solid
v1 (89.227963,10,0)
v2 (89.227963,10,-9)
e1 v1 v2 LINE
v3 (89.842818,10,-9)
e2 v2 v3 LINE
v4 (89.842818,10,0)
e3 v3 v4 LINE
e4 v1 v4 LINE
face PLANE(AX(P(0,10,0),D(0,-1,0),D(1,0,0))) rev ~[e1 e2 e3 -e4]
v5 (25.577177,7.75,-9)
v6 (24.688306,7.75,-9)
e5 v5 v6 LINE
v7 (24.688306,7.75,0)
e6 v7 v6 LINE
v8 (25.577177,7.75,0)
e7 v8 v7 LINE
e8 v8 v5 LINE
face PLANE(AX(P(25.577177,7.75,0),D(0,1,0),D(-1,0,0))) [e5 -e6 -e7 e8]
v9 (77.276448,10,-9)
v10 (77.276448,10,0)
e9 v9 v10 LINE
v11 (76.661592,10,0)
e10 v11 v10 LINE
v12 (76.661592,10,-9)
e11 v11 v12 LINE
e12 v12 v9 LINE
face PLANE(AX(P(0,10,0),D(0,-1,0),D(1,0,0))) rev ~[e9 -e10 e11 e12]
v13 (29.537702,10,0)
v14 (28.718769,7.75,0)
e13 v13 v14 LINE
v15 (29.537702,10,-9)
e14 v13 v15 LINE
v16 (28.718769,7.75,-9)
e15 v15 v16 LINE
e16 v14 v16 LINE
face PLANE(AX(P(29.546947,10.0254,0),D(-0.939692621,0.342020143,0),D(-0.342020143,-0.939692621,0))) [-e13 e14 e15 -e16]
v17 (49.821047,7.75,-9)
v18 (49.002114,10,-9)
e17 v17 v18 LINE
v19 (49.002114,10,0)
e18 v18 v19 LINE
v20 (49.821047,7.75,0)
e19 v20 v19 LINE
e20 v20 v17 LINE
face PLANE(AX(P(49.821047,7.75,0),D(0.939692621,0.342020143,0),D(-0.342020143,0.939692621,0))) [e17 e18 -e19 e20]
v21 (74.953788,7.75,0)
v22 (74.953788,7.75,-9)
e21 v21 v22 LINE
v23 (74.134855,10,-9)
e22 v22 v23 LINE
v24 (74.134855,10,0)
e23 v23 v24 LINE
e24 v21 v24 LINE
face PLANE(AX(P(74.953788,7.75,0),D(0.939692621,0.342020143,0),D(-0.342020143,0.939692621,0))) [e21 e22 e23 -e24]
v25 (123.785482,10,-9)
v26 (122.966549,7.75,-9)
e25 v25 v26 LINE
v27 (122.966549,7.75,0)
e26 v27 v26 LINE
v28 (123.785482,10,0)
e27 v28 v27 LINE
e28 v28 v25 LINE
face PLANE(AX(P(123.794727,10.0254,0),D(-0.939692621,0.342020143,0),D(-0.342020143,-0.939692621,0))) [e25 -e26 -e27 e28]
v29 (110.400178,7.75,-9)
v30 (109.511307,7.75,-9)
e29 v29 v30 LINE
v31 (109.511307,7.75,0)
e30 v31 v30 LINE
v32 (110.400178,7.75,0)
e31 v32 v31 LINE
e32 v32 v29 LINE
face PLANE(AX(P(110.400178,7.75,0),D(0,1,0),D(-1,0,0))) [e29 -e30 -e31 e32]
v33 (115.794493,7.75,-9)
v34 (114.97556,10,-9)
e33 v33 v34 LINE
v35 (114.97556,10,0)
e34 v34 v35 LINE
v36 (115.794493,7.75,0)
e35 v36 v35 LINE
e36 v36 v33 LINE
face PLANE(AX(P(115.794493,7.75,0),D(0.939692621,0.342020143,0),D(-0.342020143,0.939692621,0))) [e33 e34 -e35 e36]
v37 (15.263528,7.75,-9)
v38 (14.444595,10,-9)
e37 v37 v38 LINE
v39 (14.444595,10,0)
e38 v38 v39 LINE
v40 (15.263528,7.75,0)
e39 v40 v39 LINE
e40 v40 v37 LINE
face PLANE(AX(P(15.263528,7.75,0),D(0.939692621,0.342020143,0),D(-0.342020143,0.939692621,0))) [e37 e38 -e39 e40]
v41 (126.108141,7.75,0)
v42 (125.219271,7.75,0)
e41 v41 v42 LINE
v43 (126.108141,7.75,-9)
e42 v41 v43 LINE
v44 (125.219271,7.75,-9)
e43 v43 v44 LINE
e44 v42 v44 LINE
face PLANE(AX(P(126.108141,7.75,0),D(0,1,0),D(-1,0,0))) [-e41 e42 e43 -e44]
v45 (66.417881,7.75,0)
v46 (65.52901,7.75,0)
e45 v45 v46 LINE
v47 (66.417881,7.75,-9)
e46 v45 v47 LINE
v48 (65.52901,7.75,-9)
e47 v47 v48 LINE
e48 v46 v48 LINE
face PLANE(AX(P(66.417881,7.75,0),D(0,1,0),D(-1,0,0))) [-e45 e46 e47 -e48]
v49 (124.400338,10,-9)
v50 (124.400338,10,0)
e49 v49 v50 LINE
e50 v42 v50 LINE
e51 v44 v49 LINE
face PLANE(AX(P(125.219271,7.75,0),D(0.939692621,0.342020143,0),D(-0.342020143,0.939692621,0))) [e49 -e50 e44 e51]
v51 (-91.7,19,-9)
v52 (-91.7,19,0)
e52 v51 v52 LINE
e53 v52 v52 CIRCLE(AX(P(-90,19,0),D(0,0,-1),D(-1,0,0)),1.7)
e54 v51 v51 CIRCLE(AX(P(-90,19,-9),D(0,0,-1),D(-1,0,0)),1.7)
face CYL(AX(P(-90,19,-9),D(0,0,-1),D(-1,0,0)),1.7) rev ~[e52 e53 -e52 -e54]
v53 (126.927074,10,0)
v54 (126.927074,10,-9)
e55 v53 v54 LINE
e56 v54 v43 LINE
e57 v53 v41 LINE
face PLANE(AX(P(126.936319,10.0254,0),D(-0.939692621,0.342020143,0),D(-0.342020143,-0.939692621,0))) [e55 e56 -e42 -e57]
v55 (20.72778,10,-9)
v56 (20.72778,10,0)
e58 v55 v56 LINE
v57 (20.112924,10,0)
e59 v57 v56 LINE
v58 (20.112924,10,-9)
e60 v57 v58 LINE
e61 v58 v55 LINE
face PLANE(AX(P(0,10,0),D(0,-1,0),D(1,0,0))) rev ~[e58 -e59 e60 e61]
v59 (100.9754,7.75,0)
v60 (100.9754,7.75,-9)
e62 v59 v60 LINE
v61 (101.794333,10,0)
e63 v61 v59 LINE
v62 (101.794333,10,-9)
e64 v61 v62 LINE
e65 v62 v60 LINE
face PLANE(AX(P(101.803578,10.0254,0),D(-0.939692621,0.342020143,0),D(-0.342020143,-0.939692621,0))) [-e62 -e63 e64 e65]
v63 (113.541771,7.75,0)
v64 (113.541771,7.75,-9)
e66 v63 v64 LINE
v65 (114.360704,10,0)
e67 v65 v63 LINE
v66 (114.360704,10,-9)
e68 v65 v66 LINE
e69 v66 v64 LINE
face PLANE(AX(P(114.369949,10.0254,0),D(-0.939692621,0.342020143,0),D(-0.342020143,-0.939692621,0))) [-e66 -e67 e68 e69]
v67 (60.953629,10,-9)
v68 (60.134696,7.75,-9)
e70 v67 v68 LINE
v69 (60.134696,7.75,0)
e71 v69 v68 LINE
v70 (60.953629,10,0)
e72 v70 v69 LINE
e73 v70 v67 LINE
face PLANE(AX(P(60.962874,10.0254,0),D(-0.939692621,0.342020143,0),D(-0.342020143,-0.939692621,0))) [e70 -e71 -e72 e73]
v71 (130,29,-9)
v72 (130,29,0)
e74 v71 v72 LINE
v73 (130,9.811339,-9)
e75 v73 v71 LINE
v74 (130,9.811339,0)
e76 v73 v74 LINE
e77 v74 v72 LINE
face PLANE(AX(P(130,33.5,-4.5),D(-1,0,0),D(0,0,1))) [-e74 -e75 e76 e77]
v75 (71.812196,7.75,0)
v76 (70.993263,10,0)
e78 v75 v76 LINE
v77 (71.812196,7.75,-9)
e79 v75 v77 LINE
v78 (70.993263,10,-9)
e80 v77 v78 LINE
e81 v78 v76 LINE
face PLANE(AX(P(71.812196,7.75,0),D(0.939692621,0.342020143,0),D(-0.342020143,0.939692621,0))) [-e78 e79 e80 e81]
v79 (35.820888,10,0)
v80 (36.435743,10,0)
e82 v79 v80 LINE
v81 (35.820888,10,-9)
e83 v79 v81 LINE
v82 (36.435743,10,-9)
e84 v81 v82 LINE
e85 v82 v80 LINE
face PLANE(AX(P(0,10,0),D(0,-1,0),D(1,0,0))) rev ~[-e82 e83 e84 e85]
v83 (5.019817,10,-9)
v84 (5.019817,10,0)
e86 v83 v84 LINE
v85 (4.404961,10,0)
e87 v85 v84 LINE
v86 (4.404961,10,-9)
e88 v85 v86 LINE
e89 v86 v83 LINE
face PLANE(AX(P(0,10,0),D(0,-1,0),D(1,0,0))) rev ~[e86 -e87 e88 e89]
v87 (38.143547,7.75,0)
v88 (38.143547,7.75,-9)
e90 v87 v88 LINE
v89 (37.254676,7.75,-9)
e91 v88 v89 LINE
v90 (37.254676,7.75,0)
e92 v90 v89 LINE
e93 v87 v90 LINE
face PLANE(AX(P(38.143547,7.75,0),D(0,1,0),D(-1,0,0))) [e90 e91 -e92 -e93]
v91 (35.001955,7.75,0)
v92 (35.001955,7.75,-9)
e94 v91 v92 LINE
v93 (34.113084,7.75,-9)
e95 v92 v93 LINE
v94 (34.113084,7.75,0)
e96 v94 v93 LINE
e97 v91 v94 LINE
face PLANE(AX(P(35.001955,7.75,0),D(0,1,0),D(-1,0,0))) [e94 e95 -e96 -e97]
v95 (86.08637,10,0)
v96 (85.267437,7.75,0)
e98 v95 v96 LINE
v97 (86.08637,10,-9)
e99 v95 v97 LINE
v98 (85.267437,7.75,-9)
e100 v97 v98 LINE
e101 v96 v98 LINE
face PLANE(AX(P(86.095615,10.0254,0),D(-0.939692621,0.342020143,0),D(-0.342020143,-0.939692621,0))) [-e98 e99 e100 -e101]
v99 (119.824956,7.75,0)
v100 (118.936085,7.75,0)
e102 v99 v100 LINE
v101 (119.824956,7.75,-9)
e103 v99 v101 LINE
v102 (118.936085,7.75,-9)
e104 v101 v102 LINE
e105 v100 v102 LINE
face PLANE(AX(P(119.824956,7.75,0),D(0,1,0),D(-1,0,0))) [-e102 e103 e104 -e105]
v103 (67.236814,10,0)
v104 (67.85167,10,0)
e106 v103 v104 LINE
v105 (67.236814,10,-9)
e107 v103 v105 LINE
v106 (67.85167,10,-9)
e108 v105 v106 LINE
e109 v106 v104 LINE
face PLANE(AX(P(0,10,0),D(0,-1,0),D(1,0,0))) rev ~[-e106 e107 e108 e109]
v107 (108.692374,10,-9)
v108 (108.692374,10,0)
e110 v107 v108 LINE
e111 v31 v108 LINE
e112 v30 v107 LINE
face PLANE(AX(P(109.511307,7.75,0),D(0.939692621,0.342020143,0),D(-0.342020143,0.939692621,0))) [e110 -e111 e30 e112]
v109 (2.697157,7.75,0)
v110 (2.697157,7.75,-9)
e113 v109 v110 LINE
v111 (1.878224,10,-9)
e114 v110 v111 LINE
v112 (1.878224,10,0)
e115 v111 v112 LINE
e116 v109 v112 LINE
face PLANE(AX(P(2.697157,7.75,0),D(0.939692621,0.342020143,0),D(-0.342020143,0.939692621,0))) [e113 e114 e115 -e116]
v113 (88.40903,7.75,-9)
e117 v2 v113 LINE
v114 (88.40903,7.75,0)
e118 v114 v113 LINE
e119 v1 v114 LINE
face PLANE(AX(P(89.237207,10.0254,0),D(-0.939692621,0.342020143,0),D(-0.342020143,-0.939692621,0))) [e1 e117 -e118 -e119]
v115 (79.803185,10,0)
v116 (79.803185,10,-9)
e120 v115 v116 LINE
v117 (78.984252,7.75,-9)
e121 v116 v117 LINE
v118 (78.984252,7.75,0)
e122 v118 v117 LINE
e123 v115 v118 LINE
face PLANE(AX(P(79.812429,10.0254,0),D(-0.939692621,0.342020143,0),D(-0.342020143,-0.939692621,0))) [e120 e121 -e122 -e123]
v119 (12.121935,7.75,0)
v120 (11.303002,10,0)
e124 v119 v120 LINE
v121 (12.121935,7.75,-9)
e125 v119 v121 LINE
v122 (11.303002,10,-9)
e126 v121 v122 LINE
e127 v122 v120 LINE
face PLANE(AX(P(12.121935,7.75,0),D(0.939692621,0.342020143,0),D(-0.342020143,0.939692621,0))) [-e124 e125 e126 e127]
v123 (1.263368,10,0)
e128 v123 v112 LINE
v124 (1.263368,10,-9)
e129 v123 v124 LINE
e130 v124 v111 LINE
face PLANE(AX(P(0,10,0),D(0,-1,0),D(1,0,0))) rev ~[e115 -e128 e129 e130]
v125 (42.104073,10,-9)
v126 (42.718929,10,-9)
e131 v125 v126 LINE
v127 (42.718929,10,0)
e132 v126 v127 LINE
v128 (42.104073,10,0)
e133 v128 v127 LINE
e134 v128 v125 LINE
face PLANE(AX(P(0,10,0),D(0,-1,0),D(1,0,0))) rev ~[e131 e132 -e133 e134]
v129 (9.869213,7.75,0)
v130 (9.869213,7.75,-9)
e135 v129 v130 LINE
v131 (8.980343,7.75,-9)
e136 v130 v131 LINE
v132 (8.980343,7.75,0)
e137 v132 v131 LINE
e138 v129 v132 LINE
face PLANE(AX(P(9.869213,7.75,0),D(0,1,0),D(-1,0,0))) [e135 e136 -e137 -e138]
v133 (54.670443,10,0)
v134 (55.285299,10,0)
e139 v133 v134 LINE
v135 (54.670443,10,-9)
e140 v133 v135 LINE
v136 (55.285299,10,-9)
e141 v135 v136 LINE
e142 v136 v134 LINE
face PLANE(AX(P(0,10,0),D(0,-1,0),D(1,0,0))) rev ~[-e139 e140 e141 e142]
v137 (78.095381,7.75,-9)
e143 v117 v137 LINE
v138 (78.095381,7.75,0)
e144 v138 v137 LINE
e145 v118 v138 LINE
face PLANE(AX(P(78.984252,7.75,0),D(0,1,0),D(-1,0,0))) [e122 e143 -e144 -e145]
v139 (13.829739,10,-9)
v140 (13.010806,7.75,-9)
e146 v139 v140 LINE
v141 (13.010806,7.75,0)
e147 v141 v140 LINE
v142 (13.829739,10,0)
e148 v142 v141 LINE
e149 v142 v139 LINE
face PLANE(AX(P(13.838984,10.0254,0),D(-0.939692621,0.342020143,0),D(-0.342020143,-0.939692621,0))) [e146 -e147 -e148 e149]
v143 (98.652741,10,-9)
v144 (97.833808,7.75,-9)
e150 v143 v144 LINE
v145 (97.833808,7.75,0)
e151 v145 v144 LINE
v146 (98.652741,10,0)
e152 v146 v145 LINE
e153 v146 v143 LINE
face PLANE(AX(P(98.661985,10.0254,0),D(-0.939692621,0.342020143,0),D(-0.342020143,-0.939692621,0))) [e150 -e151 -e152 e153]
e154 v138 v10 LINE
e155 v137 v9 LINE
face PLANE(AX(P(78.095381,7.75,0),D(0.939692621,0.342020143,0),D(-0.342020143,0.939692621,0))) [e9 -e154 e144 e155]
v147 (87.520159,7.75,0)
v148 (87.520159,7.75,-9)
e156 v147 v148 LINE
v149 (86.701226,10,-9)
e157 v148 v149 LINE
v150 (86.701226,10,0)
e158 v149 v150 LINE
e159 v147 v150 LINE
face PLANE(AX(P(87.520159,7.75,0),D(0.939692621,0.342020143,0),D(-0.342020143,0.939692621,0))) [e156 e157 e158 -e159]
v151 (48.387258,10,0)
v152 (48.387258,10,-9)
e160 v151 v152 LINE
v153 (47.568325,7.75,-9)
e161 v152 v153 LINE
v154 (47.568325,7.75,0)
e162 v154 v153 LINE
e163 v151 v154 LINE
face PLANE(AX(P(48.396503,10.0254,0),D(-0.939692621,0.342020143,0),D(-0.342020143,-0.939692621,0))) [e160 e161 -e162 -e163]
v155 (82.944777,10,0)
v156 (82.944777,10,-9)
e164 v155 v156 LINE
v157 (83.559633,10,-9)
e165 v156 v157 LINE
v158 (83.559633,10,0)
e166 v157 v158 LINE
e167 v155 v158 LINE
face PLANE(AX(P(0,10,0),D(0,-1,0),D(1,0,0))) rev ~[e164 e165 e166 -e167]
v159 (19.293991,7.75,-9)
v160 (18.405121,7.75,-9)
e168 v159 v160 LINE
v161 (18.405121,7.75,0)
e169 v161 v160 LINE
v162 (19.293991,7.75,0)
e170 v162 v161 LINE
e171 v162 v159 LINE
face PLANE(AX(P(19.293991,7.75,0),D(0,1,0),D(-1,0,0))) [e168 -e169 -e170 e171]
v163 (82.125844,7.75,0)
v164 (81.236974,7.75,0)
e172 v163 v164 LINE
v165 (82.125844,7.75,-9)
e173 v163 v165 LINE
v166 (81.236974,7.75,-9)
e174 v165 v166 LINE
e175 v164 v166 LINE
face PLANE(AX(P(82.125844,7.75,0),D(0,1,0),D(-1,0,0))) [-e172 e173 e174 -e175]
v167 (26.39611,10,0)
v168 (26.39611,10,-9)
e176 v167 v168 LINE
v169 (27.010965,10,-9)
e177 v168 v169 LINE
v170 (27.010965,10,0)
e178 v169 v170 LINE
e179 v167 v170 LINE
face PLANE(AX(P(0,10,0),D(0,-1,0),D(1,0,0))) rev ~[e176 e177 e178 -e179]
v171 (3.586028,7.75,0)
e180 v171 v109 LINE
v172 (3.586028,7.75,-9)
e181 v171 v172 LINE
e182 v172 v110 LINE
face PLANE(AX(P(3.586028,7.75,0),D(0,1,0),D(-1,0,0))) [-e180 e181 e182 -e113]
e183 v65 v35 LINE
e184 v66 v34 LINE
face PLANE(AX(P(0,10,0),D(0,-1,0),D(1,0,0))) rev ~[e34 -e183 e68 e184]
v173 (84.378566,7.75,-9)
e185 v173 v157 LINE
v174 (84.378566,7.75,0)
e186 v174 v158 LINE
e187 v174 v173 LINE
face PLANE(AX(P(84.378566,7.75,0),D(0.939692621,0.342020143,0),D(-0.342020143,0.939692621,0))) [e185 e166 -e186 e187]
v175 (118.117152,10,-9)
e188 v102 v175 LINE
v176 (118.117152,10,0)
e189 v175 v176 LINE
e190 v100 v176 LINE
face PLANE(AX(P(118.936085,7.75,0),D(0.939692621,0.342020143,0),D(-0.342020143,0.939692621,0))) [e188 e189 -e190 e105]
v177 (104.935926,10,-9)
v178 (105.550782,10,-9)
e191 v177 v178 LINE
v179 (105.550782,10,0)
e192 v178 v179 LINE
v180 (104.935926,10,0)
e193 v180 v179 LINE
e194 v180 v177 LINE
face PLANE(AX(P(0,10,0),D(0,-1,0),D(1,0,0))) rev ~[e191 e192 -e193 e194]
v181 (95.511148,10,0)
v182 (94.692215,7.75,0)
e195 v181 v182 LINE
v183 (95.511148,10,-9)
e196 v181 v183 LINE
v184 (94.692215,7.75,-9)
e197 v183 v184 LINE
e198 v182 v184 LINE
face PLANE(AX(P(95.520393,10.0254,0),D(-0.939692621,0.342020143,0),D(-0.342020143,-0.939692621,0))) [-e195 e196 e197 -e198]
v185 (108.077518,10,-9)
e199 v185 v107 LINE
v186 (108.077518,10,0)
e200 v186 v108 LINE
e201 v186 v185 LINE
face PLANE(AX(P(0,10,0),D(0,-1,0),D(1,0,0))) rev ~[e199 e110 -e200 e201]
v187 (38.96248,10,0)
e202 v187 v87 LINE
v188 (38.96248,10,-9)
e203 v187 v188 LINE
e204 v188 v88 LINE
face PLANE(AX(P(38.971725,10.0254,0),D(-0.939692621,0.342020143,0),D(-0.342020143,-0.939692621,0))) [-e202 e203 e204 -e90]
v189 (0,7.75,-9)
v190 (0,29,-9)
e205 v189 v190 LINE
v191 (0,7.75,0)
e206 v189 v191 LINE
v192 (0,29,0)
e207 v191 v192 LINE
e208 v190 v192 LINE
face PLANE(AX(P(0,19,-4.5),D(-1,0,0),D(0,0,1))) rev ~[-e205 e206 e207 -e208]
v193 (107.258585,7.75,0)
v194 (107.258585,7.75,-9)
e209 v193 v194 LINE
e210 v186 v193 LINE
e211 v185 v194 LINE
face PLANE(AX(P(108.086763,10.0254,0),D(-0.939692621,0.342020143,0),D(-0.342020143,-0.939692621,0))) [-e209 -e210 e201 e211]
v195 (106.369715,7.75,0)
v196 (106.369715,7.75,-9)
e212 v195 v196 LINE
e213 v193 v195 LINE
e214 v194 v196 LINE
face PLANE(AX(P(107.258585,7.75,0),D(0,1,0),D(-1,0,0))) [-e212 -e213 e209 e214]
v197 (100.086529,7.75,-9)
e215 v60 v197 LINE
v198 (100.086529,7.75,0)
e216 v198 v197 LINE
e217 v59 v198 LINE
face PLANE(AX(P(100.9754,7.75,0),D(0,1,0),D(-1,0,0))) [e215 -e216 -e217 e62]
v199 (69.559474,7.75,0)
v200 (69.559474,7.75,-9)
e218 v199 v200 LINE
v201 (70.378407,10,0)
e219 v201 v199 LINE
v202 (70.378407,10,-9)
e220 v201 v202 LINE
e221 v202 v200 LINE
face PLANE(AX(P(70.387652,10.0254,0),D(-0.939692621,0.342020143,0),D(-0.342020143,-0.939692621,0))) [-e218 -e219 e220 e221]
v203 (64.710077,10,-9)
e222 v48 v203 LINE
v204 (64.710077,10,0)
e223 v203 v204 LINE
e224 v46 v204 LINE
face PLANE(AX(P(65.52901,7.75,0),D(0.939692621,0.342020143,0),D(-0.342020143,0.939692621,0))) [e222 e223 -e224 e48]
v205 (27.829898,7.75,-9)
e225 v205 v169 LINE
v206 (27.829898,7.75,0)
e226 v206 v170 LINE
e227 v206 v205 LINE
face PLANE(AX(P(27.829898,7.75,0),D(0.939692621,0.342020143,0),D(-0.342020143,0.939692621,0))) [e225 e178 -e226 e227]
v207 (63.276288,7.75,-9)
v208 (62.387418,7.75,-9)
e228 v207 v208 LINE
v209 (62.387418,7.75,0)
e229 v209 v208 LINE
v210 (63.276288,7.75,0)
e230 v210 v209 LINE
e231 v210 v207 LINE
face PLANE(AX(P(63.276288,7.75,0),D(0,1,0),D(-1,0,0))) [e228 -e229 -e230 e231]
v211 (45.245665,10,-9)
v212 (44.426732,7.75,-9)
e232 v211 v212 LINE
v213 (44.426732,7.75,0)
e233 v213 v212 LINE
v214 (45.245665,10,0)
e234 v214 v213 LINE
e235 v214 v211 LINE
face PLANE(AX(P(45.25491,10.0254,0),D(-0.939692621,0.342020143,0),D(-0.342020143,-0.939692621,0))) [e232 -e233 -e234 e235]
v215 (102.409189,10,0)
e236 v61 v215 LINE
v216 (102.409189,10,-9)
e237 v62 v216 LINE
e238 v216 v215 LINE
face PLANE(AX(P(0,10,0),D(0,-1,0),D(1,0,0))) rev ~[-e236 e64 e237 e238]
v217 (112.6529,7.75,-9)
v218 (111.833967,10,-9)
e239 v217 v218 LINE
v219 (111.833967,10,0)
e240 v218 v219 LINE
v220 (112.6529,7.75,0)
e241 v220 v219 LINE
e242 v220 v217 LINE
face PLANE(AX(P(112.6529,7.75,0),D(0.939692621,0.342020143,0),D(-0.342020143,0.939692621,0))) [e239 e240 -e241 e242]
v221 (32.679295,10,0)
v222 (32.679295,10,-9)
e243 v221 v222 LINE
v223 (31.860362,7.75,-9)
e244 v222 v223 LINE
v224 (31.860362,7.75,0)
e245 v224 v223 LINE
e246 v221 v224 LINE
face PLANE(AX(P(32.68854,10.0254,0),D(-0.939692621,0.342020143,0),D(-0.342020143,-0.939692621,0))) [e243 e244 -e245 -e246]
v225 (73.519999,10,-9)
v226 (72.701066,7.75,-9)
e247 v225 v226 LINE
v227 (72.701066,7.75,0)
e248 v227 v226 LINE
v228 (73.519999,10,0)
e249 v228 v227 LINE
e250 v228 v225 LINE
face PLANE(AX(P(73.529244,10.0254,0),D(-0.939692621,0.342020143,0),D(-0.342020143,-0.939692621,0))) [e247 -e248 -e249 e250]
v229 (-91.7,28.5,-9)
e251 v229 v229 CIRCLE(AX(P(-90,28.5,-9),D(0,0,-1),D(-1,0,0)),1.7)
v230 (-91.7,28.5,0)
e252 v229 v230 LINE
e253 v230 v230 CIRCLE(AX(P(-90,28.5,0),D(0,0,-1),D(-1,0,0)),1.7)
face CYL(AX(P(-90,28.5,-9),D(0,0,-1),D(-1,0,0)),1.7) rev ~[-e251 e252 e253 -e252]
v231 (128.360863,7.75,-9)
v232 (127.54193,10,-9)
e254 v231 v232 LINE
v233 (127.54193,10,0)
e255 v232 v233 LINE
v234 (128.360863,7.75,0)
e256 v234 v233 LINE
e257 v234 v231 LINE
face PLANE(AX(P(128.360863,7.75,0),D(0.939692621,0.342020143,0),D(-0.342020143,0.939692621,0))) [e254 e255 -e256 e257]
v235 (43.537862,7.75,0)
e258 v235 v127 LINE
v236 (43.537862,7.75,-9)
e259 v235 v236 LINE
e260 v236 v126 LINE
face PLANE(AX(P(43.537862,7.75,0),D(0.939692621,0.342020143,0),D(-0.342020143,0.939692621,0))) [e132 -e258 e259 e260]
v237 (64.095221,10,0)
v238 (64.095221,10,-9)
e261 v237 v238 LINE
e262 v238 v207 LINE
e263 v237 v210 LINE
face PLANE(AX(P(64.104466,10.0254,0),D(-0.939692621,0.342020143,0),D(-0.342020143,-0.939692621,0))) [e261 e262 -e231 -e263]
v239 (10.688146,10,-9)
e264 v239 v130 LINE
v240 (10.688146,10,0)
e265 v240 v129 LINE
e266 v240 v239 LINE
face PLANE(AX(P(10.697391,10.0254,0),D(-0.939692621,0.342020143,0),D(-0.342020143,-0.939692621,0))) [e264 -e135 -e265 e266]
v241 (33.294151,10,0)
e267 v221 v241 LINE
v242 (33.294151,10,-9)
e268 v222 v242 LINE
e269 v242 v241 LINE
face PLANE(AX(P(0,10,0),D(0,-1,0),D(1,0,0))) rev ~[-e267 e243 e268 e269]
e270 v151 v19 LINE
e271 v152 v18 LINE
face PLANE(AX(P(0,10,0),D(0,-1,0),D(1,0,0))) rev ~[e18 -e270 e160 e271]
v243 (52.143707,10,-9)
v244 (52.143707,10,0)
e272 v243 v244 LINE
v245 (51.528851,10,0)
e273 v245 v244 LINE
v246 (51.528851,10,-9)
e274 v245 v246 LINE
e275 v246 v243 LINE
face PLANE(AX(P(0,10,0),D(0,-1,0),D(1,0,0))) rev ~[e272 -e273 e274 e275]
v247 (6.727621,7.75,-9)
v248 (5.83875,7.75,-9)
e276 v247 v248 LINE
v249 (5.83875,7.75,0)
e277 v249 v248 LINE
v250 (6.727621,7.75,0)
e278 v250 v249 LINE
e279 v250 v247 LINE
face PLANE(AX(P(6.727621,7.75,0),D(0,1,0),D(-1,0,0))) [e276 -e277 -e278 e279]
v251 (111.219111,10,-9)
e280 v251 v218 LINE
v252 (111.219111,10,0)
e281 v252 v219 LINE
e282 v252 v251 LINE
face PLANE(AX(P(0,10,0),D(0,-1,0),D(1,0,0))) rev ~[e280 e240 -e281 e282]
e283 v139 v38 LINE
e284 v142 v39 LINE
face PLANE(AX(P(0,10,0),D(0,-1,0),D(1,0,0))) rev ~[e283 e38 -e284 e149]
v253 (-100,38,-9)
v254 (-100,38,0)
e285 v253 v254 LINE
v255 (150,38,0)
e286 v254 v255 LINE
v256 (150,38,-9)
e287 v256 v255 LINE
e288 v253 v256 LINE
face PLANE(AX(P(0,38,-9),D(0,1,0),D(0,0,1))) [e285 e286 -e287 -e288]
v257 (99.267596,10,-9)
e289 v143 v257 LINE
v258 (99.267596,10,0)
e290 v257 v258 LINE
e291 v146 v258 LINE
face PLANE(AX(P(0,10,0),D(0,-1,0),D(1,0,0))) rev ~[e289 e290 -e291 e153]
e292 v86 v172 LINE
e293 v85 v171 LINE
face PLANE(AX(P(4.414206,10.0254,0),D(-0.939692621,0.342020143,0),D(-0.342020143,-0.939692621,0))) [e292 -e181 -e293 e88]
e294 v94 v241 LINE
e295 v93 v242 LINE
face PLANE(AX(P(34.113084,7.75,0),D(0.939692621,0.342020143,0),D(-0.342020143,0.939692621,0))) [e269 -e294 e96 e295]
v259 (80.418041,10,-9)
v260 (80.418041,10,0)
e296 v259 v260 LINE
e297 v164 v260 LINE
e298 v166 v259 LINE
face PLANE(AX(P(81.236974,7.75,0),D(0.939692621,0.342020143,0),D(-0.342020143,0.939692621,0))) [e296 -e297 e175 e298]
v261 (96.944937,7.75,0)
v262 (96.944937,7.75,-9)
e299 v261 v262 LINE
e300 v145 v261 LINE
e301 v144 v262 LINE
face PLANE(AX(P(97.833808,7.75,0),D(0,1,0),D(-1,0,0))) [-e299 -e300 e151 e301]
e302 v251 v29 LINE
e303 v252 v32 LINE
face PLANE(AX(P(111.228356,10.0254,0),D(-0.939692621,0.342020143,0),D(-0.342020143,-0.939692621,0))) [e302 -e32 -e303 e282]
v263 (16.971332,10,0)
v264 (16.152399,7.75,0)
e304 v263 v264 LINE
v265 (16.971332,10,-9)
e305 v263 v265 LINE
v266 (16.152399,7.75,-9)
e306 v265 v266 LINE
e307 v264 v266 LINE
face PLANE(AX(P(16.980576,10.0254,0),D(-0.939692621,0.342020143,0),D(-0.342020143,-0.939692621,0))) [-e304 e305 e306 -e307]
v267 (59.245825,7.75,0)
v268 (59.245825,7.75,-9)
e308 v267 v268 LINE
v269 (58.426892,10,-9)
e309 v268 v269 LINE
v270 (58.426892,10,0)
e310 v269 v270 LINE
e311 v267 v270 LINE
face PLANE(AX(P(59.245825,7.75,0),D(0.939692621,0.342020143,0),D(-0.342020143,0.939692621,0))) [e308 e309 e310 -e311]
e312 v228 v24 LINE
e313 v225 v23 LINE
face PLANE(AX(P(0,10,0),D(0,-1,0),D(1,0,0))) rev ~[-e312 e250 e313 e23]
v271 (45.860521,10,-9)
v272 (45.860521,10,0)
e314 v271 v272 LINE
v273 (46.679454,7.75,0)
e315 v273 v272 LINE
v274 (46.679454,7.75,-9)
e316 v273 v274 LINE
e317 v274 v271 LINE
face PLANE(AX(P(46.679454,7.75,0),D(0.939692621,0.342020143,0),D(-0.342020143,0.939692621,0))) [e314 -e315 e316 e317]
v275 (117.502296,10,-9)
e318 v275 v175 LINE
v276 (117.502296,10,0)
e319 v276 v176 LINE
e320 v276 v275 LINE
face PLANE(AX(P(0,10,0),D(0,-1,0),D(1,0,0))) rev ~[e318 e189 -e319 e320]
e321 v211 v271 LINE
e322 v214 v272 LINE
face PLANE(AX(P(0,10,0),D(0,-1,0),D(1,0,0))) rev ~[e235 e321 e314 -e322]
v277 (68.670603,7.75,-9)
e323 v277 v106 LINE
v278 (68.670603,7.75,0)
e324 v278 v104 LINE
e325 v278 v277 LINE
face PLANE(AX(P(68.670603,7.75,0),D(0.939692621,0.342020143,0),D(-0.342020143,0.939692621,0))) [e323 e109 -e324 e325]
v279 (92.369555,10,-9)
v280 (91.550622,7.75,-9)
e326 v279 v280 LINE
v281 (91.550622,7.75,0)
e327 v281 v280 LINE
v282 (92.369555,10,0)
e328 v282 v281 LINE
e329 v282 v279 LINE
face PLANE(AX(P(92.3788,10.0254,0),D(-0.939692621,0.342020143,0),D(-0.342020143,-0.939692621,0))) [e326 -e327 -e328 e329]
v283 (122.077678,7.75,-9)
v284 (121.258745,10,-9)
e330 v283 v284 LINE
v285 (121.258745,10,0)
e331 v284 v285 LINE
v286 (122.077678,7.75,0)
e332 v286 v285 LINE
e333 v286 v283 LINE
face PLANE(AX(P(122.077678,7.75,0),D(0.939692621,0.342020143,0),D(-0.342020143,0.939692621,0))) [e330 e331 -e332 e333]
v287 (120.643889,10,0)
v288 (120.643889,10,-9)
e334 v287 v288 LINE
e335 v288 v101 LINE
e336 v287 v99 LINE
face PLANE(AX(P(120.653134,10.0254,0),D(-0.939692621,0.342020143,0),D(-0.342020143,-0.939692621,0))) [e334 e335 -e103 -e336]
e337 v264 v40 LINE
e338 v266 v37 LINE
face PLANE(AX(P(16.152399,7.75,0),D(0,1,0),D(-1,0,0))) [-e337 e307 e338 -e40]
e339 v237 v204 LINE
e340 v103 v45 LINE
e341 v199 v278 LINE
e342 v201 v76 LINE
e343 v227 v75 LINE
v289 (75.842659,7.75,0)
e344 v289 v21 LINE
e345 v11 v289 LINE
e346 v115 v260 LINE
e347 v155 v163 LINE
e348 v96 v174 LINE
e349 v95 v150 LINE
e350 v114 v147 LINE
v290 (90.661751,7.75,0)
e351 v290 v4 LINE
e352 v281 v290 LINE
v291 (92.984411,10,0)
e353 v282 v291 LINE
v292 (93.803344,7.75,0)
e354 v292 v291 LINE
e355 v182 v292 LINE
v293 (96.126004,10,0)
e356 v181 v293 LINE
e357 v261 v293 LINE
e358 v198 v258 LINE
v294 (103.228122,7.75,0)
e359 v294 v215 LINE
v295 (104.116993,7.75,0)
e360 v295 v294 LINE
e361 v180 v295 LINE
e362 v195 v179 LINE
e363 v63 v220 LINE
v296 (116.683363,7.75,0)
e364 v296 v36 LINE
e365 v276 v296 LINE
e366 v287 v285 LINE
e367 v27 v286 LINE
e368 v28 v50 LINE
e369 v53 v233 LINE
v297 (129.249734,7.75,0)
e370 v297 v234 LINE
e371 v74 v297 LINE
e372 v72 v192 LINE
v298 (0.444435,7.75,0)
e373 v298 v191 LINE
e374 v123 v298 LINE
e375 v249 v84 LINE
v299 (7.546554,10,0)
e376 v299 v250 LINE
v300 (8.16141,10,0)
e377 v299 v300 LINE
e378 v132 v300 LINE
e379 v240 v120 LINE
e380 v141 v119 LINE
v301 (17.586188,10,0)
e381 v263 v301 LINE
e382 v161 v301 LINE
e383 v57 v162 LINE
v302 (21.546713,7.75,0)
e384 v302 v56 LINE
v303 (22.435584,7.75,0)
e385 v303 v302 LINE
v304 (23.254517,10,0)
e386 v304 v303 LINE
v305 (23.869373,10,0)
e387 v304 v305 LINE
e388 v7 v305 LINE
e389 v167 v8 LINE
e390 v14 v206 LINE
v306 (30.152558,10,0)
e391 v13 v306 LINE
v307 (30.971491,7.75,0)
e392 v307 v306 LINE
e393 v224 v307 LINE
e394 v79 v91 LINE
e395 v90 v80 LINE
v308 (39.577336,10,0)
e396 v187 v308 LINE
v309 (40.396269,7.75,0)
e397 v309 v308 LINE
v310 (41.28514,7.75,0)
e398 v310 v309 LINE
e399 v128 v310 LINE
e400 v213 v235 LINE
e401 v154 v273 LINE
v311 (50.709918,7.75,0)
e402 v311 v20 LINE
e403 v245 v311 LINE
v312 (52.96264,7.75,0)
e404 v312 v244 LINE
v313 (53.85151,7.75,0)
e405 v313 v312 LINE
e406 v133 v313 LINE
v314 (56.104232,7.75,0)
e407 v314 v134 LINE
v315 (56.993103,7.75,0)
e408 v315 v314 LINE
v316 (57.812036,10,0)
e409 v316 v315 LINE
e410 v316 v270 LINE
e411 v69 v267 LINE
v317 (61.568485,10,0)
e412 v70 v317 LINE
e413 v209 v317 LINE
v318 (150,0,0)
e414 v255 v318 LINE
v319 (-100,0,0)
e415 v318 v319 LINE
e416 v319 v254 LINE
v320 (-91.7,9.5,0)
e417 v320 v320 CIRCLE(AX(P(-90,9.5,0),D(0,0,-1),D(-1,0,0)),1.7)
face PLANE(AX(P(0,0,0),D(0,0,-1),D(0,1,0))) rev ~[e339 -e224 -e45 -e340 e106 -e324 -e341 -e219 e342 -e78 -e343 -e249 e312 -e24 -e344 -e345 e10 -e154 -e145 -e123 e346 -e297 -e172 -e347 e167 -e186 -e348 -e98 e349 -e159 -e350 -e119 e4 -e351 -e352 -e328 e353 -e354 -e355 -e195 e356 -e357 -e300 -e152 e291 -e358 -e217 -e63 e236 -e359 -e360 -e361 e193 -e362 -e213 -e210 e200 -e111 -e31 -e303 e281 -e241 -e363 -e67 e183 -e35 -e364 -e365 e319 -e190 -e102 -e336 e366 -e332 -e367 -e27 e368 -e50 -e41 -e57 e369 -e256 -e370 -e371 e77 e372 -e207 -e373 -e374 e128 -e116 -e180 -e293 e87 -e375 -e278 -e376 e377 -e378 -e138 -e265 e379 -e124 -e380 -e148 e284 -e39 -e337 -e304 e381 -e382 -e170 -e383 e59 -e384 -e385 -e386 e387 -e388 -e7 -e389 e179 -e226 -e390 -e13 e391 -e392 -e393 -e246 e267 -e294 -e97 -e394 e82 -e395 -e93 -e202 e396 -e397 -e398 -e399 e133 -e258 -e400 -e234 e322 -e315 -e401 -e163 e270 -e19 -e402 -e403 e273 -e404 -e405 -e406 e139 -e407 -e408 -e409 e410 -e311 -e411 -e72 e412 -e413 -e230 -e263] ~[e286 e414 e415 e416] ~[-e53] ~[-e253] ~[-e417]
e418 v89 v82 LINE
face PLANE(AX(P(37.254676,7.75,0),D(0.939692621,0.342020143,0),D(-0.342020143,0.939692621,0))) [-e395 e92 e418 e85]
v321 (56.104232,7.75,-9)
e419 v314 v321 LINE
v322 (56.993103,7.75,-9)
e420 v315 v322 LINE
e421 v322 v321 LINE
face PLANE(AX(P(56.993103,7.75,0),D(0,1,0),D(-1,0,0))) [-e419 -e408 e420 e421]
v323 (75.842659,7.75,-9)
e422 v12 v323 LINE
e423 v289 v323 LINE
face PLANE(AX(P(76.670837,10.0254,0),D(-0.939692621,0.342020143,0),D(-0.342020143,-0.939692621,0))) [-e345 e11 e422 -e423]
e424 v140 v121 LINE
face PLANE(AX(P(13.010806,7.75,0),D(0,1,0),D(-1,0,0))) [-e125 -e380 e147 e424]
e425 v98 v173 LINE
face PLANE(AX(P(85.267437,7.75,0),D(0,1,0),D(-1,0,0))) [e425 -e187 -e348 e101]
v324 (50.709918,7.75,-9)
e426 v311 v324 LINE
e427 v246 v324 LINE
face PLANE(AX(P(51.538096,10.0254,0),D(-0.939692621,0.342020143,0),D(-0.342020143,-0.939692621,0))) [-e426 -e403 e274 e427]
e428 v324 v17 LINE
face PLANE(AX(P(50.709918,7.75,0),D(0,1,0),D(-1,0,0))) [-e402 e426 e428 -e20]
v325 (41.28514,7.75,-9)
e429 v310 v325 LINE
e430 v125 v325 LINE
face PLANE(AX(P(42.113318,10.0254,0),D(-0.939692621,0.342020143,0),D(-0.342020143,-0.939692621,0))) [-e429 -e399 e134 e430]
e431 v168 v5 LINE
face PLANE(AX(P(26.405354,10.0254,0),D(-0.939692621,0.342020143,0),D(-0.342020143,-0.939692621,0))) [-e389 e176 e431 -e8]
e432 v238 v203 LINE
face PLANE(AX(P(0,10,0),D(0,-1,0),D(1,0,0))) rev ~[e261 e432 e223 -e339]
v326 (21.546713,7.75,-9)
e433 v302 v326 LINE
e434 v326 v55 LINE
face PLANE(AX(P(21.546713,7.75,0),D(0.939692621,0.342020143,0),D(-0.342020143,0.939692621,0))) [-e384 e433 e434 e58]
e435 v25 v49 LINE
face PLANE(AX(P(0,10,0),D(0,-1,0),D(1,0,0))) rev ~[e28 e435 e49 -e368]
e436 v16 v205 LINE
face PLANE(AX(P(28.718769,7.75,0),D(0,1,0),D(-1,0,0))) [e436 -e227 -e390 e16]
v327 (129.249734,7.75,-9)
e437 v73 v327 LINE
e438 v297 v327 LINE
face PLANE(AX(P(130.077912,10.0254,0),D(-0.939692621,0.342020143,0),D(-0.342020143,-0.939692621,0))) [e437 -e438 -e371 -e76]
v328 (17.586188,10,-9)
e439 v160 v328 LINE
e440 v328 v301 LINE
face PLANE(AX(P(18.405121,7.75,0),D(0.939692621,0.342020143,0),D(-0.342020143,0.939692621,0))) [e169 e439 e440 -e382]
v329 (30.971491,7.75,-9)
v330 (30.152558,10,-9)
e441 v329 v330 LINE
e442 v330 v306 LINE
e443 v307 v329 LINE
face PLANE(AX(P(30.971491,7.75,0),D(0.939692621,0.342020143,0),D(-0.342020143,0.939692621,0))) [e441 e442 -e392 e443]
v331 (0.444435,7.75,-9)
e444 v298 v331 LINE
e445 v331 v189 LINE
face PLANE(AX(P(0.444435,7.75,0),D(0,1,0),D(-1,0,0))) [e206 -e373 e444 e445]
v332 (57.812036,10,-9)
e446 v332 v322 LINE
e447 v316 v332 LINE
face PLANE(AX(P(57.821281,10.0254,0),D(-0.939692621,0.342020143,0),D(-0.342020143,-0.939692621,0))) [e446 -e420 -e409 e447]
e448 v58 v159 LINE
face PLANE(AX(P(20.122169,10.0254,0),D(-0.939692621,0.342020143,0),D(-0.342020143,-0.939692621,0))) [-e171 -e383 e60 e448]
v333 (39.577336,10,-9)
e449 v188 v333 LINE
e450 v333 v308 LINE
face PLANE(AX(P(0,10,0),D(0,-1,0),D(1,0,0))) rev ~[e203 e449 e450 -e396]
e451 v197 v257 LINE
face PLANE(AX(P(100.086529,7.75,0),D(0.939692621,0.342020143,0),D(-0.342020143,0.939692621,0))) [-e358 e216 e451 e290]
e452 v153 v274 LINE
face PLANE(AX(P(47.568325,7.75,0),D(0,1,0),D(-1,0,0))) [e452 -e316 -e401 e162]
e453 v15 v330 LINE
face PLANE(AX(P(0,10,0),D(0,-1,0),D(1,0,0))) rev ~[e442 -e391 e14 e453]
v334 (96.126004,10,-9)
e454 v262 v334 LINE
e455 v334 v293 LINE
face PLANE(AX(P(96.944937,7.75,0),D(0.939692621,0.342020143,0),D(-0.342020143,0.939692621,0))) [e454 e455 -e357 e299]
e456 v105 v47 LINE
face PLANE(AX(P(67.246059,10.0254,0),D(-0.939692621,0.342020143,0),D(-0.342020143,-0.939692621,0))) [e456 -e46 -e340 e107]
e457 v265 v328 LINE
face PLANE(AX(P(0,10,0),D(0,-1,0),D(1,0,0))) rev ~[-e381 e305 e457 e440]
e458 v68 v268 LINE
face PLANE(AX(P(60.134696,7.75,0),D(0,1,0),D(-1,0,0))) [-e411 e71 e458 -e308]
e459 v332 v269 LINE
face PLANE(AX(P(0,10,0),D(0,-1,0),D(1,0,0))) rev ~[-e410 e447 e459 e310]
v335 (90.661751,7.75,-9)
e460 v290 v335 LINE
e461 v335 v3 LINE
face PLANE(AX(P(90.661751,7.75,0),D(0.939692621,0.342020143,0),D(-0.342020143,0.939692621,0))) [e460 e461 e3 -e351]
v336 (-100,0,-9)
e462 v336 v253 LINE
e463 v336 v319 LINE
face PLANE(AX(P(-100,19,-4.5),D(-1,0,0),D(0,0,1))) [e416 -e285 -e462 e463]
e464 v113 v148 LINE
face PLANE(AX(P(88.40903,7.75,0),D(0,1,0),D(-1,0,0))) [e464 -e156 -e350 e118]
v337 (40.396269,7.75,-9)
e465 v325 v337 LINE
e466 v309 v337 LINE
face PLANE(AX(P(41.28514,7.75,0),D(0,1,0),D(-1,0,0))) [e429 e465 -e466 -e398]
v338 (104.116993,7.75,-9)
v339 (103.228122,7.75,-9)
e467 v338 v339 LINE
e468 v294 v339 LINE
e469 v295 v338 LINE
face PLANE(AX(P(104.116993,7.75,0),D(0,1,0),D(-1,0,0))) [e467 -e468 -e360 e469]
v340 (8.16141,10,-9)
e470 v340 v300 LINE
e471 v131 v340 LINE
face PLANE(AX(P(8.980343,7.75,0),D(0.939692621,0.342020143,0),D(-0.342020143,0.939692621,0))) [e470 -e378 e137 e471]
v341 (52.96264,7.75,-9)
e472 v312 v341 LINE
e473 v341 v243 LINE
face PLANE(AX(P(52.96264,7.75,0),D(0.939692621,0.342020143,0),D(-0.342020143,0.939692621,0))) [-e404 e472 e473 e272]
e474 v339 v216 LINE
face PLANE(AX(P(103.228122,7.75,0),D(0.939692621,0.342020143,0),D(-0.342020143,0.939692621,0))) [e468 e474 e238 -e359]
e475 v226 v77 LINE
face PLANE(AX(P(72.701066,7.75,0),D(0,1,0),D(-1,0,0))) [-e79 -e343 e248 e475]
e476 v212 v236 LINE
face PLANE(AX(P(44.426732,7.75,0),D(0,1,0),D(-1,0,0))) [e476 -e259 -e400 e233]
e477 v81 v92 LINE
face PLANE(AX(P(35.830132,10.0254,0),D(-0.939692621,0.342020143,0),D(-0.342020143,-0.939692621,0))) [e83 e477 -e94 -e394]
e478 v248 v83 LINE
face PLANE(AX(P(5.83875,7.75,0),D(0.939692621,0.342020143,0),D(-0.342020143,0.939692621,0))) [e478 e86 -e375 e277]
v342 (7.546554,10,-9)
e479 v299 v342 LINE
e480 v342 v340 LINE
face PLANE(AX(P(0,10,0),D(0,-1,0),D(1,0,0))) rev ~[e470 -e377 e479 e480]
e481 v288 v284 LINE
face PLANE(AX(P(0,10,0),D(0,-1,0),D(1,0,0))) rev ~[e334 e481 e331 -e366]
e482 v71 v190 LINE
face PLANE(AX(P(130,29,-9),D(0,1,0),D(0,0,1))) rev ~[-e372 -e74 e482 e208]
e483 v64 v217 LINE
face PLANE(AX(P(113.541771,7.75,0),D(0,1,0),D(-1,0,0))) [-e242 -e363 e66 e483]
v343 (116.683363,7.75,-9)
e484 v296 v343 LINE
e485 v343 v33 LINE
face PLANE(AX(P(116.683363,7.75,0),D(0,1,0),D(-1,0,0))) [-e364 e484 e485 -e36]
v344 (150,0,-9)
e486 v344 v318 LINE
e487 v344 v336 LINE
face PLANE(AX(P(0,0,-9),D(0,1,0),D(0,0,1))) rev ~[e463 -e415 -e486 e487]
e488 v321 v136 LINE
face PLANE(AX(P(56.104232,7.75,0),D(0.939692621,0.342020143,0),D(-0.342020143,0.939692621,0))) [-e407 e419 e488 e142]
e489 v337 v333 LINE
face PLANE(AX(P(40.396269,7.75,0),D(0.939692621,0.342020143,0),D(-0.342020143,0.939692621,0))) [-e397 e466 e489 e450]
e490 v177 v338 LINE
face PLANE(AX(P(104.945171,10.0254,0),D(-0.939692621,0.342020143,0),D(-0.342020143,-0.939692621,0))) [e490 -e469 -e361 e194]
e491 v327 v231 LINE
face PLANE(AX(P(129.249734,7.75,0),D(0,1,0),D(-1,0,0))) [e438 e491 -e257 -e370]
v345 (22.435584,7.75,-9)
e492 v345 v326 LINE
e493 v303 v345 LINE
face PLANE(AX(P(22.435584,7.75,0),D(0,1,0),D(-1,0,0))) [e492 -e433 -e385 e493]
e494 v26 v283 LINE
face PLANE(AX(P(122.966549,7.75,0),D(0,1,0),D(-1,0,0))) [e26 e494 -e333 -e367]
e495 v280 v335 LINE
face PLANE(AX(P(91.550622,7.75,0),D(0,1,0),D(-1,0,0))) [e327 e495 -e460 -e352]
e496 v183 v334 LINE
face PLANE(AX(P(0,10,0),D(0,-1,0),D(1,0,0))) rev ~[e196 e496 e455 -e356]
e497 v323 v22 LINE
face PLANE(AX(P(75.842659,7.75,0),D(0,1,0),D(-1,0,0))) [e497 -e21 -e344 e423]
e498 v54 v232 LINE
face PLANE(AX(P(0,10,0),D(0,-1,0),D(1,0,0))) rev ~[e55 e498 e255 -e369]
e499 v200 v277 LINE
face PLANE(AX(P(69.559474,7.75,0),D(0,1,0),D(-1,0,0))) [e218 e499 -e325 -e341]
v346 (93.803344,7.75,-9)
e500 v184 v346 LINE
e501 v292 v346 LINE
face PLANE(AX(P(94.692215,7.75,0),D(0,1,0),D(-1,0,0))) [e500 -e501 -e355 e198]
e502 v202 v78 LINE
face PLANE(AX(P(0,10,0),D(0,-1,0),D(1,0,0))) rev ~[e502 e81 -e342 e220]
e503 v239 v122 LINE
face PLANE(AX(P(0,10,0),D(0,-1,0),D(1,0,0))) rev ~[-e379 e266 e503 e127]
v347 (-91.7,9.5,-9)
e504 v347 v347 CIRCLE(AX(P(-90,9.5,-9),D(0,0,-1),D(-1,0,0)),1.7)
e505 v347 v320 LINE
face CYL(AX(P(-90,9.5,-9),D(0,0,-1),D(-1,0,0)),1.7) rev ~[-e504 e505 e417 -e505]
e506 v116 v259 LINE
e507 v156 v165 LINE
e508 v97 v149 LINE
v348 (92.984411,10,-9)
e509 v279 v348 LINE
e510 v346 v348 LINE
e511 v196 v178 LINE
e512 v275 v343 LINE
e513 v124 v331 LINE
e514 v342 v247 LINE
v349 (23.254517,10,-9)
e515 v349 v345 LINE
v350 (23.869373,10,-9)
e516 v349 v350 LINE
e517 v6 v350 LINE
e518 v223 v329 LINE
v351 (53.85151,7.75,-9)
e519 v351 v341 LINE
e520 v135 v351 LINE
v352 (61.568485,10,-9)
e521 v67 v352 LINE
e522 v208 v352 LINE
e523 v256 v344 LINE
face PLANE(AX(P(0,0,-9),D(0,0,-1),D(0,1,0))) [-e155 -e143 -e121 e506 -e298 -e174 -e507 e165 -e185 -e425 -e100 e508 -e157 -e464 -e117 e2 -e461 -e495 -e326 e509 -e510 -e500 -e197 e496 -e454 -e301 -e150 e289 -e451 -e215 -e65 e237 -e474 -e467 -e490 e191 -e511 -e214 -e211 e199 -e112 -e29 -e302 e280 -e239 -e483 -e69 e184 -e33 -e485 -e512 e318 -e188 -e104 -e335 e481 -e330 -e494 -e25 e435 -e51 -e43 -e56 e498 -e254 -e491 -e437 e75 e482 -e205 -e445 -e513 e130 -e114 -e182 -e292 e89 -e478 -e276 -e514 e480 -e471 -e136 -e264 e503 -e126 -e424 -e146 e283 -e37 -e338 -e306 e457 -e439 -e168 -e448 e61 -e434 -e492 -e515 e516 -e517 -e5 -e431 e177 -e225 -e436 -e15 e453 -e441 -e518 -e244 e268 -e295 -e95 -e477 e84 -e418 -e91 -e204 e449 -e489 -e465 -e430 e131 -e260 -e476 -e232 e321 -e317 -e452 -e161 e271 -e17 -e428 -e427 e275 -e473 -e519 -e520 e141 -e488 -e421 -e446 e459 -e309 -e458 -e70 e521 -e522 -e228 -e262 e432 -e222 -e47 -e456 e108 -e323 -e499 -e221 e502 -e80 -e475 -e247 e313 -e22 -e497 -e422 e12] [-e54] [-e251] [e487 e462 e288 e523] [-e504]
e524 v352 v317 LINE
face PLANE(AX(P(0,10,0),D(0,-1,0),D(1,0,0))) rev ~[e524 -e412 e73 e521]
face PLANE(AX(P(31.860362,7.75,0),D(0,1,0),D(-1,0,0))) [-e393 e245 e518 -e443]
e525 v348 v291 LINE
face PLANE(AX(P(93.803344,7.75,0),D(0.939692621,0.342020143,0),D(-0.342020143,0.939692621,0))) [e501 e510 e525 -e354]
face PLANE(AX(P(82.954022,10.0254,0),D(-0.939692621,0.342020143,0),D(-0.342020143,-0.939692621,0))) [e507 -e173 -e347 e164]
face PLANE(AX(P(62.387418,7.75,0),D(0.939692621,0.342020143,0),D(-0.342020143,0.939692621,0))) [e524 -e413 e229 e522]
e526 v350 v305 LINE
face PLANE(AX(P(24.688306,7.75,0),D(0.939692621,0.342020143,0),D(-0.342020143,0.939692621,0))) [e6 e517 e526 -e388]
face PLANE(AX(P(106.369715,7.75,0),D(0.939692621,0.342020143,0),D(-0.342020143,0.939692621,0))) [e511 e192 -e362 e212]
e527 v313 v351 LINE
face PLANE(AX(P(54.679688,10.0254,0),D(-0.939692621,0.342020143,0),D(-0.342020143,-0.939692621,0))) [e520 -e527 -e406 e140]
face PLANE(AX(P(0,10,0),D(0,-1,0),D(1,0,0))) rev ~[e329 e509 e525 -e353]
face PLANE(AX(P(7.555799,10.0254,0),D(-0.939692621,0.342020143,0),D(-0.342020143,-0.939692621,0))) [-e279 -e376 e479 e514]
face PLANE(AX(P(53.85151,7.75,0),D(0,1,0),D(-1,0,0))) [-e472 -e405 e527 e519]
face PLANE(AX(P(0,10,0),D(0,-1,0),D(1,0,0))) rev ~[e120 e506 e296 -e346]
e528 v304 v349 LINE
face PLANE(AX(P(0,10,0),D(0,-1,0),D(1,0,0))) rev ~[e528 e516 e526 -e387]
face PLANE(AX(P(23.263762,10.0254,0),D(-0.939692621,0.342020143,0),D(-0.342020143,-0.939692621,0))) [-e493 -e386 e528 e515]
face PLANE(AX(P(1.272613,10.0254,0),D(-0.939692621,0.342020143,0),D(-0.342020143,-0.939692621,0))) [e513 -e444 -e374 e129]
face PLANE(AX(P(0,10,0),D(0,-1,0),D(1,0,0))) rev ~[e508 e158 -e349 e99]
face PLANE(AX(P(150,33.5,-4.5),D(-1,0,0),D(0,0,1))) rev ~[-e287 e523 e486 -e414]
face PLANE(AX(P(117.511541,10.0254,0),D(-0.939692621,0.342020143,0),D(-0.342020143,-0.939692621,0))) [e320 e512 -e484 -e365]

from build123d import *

# Parameters (mm, degrees)
BLANKSKE_W          = 130
BLANKSKE_H          = 10
BLANK_DEPTH         = 9
TOOTHCUTSIM_DEPTH   = 131.694299799
TEETHCUTS_COUNT     = 91
TEETHCUTS_PITCH     = 3.14159265
SKETCH2_W           = 20
SKETCH2_H           = 9
BOSS_EXTRUDE1_DEPTH = 29
SKETCH3_W           = 9
SKETCH3_H           = 9
BOSS_EXTRUDE2_DEPTH = 20
SKETCH3_2_W         = 9
SKETCH3_2_H         = 9
BOSS_EXTRUDE3_DEPTH = 130
SKETCH4_W           = 9
SKETCH4_H           = 38
BOSS_EXTRUDE4_DEPTH = 100
SKETCH5_R           = 1.7
CUT_EXTRUDE1_DEPTH  = 10


with BuildPart() as part:
    # BlankSke → Blank (new body)
    with BuildSketch(Plane.XY):
        with Locations((65, 5)):
            Rectangle(BLANKSKE_W, BLANKSKE_H)
    extrude(amount=-BLANK_DEPTH)

    # TooCutSkeSim → ToothCutSim (cut, through all)
    with BuildSketch(Plane.XY):
        Polygon((0.44443537, 7.75), (-0.44443537, 7.75), (-1.272613241, 10.0254), (1.272613241, 10.0254), align=None)
    toothcutsim = extrude(amount=-TOOTHCUTSIM_DEPTH, mode=Mode.SUBTRACT)

    # TeethCuts: ToothCutSim ×91
    with Locations(*[(i * TEETHCUTS_PITCH, 0, 0) for i in range(1, TEETHCUTS_COUNT)]):
        add(toothcutsim, mode=Mode.SUBTRACT)

    # Sketch2 → Boss-Extrude1 (add)
    with BuildSketch(Plane.XZ):
        with Locations((140, -4.5)):
            Rectangle(SKETCH2_W, SKETCH2_H)
    extrude(amount=-BOSS_EXTRUDE1_DEPTH)

    # Sketch3 → Boss-Extrude2 (add)
    with BuildSketch(Plane.ZY.offset(-130)):
        with Locations((-4.5, 33.5)):
            Rectangle(SKETCH3_W, SKETCH3_H)
    extrude(amount=-BOSS_EXTRUDE2_DEPTH)

    # Sketch3<2> → Boss-Extrude3 (add)
    with BuildSketch(Plane.ZY.offset(-130)):
        with Locations((-4.5, 33.5)):
            Rectangle(SKETCH3_2_W, SKETCH3_2_H)
    extrude(amount=BOSS_EXTRUDE3_DEPTH)

    # Sketch4 → Boss-Extrude4 (add)
    with BuildSketch(Plane.ZY):
        with Locations((-4.5, 19)):
            Rectangle(SKETCH4_W, SKETCH4_H)
    extrude(amount=BOSS_EXTRUDE4_DEPTH)

    # Sketch5 → Cut-Extrude1 (cut)
    with BuildSketch(Plane(origin=(0, 0, -9), x_dir=(-1, 0, 0), z_dir=(0, 0, -1))):
        with Locations((90, 19)):
            Circle(SKETCH5_R)
        with Locations((90, 9.5)):
            Circle(SKETCH5_R)
        with Locations((90, 28.5)):
            Circle(SKETCH5_R)
    extrude(amount=-CUT_EXTRUDE1_DEPTH, mode=Mode.SUBTRACT)


solid = part.part
